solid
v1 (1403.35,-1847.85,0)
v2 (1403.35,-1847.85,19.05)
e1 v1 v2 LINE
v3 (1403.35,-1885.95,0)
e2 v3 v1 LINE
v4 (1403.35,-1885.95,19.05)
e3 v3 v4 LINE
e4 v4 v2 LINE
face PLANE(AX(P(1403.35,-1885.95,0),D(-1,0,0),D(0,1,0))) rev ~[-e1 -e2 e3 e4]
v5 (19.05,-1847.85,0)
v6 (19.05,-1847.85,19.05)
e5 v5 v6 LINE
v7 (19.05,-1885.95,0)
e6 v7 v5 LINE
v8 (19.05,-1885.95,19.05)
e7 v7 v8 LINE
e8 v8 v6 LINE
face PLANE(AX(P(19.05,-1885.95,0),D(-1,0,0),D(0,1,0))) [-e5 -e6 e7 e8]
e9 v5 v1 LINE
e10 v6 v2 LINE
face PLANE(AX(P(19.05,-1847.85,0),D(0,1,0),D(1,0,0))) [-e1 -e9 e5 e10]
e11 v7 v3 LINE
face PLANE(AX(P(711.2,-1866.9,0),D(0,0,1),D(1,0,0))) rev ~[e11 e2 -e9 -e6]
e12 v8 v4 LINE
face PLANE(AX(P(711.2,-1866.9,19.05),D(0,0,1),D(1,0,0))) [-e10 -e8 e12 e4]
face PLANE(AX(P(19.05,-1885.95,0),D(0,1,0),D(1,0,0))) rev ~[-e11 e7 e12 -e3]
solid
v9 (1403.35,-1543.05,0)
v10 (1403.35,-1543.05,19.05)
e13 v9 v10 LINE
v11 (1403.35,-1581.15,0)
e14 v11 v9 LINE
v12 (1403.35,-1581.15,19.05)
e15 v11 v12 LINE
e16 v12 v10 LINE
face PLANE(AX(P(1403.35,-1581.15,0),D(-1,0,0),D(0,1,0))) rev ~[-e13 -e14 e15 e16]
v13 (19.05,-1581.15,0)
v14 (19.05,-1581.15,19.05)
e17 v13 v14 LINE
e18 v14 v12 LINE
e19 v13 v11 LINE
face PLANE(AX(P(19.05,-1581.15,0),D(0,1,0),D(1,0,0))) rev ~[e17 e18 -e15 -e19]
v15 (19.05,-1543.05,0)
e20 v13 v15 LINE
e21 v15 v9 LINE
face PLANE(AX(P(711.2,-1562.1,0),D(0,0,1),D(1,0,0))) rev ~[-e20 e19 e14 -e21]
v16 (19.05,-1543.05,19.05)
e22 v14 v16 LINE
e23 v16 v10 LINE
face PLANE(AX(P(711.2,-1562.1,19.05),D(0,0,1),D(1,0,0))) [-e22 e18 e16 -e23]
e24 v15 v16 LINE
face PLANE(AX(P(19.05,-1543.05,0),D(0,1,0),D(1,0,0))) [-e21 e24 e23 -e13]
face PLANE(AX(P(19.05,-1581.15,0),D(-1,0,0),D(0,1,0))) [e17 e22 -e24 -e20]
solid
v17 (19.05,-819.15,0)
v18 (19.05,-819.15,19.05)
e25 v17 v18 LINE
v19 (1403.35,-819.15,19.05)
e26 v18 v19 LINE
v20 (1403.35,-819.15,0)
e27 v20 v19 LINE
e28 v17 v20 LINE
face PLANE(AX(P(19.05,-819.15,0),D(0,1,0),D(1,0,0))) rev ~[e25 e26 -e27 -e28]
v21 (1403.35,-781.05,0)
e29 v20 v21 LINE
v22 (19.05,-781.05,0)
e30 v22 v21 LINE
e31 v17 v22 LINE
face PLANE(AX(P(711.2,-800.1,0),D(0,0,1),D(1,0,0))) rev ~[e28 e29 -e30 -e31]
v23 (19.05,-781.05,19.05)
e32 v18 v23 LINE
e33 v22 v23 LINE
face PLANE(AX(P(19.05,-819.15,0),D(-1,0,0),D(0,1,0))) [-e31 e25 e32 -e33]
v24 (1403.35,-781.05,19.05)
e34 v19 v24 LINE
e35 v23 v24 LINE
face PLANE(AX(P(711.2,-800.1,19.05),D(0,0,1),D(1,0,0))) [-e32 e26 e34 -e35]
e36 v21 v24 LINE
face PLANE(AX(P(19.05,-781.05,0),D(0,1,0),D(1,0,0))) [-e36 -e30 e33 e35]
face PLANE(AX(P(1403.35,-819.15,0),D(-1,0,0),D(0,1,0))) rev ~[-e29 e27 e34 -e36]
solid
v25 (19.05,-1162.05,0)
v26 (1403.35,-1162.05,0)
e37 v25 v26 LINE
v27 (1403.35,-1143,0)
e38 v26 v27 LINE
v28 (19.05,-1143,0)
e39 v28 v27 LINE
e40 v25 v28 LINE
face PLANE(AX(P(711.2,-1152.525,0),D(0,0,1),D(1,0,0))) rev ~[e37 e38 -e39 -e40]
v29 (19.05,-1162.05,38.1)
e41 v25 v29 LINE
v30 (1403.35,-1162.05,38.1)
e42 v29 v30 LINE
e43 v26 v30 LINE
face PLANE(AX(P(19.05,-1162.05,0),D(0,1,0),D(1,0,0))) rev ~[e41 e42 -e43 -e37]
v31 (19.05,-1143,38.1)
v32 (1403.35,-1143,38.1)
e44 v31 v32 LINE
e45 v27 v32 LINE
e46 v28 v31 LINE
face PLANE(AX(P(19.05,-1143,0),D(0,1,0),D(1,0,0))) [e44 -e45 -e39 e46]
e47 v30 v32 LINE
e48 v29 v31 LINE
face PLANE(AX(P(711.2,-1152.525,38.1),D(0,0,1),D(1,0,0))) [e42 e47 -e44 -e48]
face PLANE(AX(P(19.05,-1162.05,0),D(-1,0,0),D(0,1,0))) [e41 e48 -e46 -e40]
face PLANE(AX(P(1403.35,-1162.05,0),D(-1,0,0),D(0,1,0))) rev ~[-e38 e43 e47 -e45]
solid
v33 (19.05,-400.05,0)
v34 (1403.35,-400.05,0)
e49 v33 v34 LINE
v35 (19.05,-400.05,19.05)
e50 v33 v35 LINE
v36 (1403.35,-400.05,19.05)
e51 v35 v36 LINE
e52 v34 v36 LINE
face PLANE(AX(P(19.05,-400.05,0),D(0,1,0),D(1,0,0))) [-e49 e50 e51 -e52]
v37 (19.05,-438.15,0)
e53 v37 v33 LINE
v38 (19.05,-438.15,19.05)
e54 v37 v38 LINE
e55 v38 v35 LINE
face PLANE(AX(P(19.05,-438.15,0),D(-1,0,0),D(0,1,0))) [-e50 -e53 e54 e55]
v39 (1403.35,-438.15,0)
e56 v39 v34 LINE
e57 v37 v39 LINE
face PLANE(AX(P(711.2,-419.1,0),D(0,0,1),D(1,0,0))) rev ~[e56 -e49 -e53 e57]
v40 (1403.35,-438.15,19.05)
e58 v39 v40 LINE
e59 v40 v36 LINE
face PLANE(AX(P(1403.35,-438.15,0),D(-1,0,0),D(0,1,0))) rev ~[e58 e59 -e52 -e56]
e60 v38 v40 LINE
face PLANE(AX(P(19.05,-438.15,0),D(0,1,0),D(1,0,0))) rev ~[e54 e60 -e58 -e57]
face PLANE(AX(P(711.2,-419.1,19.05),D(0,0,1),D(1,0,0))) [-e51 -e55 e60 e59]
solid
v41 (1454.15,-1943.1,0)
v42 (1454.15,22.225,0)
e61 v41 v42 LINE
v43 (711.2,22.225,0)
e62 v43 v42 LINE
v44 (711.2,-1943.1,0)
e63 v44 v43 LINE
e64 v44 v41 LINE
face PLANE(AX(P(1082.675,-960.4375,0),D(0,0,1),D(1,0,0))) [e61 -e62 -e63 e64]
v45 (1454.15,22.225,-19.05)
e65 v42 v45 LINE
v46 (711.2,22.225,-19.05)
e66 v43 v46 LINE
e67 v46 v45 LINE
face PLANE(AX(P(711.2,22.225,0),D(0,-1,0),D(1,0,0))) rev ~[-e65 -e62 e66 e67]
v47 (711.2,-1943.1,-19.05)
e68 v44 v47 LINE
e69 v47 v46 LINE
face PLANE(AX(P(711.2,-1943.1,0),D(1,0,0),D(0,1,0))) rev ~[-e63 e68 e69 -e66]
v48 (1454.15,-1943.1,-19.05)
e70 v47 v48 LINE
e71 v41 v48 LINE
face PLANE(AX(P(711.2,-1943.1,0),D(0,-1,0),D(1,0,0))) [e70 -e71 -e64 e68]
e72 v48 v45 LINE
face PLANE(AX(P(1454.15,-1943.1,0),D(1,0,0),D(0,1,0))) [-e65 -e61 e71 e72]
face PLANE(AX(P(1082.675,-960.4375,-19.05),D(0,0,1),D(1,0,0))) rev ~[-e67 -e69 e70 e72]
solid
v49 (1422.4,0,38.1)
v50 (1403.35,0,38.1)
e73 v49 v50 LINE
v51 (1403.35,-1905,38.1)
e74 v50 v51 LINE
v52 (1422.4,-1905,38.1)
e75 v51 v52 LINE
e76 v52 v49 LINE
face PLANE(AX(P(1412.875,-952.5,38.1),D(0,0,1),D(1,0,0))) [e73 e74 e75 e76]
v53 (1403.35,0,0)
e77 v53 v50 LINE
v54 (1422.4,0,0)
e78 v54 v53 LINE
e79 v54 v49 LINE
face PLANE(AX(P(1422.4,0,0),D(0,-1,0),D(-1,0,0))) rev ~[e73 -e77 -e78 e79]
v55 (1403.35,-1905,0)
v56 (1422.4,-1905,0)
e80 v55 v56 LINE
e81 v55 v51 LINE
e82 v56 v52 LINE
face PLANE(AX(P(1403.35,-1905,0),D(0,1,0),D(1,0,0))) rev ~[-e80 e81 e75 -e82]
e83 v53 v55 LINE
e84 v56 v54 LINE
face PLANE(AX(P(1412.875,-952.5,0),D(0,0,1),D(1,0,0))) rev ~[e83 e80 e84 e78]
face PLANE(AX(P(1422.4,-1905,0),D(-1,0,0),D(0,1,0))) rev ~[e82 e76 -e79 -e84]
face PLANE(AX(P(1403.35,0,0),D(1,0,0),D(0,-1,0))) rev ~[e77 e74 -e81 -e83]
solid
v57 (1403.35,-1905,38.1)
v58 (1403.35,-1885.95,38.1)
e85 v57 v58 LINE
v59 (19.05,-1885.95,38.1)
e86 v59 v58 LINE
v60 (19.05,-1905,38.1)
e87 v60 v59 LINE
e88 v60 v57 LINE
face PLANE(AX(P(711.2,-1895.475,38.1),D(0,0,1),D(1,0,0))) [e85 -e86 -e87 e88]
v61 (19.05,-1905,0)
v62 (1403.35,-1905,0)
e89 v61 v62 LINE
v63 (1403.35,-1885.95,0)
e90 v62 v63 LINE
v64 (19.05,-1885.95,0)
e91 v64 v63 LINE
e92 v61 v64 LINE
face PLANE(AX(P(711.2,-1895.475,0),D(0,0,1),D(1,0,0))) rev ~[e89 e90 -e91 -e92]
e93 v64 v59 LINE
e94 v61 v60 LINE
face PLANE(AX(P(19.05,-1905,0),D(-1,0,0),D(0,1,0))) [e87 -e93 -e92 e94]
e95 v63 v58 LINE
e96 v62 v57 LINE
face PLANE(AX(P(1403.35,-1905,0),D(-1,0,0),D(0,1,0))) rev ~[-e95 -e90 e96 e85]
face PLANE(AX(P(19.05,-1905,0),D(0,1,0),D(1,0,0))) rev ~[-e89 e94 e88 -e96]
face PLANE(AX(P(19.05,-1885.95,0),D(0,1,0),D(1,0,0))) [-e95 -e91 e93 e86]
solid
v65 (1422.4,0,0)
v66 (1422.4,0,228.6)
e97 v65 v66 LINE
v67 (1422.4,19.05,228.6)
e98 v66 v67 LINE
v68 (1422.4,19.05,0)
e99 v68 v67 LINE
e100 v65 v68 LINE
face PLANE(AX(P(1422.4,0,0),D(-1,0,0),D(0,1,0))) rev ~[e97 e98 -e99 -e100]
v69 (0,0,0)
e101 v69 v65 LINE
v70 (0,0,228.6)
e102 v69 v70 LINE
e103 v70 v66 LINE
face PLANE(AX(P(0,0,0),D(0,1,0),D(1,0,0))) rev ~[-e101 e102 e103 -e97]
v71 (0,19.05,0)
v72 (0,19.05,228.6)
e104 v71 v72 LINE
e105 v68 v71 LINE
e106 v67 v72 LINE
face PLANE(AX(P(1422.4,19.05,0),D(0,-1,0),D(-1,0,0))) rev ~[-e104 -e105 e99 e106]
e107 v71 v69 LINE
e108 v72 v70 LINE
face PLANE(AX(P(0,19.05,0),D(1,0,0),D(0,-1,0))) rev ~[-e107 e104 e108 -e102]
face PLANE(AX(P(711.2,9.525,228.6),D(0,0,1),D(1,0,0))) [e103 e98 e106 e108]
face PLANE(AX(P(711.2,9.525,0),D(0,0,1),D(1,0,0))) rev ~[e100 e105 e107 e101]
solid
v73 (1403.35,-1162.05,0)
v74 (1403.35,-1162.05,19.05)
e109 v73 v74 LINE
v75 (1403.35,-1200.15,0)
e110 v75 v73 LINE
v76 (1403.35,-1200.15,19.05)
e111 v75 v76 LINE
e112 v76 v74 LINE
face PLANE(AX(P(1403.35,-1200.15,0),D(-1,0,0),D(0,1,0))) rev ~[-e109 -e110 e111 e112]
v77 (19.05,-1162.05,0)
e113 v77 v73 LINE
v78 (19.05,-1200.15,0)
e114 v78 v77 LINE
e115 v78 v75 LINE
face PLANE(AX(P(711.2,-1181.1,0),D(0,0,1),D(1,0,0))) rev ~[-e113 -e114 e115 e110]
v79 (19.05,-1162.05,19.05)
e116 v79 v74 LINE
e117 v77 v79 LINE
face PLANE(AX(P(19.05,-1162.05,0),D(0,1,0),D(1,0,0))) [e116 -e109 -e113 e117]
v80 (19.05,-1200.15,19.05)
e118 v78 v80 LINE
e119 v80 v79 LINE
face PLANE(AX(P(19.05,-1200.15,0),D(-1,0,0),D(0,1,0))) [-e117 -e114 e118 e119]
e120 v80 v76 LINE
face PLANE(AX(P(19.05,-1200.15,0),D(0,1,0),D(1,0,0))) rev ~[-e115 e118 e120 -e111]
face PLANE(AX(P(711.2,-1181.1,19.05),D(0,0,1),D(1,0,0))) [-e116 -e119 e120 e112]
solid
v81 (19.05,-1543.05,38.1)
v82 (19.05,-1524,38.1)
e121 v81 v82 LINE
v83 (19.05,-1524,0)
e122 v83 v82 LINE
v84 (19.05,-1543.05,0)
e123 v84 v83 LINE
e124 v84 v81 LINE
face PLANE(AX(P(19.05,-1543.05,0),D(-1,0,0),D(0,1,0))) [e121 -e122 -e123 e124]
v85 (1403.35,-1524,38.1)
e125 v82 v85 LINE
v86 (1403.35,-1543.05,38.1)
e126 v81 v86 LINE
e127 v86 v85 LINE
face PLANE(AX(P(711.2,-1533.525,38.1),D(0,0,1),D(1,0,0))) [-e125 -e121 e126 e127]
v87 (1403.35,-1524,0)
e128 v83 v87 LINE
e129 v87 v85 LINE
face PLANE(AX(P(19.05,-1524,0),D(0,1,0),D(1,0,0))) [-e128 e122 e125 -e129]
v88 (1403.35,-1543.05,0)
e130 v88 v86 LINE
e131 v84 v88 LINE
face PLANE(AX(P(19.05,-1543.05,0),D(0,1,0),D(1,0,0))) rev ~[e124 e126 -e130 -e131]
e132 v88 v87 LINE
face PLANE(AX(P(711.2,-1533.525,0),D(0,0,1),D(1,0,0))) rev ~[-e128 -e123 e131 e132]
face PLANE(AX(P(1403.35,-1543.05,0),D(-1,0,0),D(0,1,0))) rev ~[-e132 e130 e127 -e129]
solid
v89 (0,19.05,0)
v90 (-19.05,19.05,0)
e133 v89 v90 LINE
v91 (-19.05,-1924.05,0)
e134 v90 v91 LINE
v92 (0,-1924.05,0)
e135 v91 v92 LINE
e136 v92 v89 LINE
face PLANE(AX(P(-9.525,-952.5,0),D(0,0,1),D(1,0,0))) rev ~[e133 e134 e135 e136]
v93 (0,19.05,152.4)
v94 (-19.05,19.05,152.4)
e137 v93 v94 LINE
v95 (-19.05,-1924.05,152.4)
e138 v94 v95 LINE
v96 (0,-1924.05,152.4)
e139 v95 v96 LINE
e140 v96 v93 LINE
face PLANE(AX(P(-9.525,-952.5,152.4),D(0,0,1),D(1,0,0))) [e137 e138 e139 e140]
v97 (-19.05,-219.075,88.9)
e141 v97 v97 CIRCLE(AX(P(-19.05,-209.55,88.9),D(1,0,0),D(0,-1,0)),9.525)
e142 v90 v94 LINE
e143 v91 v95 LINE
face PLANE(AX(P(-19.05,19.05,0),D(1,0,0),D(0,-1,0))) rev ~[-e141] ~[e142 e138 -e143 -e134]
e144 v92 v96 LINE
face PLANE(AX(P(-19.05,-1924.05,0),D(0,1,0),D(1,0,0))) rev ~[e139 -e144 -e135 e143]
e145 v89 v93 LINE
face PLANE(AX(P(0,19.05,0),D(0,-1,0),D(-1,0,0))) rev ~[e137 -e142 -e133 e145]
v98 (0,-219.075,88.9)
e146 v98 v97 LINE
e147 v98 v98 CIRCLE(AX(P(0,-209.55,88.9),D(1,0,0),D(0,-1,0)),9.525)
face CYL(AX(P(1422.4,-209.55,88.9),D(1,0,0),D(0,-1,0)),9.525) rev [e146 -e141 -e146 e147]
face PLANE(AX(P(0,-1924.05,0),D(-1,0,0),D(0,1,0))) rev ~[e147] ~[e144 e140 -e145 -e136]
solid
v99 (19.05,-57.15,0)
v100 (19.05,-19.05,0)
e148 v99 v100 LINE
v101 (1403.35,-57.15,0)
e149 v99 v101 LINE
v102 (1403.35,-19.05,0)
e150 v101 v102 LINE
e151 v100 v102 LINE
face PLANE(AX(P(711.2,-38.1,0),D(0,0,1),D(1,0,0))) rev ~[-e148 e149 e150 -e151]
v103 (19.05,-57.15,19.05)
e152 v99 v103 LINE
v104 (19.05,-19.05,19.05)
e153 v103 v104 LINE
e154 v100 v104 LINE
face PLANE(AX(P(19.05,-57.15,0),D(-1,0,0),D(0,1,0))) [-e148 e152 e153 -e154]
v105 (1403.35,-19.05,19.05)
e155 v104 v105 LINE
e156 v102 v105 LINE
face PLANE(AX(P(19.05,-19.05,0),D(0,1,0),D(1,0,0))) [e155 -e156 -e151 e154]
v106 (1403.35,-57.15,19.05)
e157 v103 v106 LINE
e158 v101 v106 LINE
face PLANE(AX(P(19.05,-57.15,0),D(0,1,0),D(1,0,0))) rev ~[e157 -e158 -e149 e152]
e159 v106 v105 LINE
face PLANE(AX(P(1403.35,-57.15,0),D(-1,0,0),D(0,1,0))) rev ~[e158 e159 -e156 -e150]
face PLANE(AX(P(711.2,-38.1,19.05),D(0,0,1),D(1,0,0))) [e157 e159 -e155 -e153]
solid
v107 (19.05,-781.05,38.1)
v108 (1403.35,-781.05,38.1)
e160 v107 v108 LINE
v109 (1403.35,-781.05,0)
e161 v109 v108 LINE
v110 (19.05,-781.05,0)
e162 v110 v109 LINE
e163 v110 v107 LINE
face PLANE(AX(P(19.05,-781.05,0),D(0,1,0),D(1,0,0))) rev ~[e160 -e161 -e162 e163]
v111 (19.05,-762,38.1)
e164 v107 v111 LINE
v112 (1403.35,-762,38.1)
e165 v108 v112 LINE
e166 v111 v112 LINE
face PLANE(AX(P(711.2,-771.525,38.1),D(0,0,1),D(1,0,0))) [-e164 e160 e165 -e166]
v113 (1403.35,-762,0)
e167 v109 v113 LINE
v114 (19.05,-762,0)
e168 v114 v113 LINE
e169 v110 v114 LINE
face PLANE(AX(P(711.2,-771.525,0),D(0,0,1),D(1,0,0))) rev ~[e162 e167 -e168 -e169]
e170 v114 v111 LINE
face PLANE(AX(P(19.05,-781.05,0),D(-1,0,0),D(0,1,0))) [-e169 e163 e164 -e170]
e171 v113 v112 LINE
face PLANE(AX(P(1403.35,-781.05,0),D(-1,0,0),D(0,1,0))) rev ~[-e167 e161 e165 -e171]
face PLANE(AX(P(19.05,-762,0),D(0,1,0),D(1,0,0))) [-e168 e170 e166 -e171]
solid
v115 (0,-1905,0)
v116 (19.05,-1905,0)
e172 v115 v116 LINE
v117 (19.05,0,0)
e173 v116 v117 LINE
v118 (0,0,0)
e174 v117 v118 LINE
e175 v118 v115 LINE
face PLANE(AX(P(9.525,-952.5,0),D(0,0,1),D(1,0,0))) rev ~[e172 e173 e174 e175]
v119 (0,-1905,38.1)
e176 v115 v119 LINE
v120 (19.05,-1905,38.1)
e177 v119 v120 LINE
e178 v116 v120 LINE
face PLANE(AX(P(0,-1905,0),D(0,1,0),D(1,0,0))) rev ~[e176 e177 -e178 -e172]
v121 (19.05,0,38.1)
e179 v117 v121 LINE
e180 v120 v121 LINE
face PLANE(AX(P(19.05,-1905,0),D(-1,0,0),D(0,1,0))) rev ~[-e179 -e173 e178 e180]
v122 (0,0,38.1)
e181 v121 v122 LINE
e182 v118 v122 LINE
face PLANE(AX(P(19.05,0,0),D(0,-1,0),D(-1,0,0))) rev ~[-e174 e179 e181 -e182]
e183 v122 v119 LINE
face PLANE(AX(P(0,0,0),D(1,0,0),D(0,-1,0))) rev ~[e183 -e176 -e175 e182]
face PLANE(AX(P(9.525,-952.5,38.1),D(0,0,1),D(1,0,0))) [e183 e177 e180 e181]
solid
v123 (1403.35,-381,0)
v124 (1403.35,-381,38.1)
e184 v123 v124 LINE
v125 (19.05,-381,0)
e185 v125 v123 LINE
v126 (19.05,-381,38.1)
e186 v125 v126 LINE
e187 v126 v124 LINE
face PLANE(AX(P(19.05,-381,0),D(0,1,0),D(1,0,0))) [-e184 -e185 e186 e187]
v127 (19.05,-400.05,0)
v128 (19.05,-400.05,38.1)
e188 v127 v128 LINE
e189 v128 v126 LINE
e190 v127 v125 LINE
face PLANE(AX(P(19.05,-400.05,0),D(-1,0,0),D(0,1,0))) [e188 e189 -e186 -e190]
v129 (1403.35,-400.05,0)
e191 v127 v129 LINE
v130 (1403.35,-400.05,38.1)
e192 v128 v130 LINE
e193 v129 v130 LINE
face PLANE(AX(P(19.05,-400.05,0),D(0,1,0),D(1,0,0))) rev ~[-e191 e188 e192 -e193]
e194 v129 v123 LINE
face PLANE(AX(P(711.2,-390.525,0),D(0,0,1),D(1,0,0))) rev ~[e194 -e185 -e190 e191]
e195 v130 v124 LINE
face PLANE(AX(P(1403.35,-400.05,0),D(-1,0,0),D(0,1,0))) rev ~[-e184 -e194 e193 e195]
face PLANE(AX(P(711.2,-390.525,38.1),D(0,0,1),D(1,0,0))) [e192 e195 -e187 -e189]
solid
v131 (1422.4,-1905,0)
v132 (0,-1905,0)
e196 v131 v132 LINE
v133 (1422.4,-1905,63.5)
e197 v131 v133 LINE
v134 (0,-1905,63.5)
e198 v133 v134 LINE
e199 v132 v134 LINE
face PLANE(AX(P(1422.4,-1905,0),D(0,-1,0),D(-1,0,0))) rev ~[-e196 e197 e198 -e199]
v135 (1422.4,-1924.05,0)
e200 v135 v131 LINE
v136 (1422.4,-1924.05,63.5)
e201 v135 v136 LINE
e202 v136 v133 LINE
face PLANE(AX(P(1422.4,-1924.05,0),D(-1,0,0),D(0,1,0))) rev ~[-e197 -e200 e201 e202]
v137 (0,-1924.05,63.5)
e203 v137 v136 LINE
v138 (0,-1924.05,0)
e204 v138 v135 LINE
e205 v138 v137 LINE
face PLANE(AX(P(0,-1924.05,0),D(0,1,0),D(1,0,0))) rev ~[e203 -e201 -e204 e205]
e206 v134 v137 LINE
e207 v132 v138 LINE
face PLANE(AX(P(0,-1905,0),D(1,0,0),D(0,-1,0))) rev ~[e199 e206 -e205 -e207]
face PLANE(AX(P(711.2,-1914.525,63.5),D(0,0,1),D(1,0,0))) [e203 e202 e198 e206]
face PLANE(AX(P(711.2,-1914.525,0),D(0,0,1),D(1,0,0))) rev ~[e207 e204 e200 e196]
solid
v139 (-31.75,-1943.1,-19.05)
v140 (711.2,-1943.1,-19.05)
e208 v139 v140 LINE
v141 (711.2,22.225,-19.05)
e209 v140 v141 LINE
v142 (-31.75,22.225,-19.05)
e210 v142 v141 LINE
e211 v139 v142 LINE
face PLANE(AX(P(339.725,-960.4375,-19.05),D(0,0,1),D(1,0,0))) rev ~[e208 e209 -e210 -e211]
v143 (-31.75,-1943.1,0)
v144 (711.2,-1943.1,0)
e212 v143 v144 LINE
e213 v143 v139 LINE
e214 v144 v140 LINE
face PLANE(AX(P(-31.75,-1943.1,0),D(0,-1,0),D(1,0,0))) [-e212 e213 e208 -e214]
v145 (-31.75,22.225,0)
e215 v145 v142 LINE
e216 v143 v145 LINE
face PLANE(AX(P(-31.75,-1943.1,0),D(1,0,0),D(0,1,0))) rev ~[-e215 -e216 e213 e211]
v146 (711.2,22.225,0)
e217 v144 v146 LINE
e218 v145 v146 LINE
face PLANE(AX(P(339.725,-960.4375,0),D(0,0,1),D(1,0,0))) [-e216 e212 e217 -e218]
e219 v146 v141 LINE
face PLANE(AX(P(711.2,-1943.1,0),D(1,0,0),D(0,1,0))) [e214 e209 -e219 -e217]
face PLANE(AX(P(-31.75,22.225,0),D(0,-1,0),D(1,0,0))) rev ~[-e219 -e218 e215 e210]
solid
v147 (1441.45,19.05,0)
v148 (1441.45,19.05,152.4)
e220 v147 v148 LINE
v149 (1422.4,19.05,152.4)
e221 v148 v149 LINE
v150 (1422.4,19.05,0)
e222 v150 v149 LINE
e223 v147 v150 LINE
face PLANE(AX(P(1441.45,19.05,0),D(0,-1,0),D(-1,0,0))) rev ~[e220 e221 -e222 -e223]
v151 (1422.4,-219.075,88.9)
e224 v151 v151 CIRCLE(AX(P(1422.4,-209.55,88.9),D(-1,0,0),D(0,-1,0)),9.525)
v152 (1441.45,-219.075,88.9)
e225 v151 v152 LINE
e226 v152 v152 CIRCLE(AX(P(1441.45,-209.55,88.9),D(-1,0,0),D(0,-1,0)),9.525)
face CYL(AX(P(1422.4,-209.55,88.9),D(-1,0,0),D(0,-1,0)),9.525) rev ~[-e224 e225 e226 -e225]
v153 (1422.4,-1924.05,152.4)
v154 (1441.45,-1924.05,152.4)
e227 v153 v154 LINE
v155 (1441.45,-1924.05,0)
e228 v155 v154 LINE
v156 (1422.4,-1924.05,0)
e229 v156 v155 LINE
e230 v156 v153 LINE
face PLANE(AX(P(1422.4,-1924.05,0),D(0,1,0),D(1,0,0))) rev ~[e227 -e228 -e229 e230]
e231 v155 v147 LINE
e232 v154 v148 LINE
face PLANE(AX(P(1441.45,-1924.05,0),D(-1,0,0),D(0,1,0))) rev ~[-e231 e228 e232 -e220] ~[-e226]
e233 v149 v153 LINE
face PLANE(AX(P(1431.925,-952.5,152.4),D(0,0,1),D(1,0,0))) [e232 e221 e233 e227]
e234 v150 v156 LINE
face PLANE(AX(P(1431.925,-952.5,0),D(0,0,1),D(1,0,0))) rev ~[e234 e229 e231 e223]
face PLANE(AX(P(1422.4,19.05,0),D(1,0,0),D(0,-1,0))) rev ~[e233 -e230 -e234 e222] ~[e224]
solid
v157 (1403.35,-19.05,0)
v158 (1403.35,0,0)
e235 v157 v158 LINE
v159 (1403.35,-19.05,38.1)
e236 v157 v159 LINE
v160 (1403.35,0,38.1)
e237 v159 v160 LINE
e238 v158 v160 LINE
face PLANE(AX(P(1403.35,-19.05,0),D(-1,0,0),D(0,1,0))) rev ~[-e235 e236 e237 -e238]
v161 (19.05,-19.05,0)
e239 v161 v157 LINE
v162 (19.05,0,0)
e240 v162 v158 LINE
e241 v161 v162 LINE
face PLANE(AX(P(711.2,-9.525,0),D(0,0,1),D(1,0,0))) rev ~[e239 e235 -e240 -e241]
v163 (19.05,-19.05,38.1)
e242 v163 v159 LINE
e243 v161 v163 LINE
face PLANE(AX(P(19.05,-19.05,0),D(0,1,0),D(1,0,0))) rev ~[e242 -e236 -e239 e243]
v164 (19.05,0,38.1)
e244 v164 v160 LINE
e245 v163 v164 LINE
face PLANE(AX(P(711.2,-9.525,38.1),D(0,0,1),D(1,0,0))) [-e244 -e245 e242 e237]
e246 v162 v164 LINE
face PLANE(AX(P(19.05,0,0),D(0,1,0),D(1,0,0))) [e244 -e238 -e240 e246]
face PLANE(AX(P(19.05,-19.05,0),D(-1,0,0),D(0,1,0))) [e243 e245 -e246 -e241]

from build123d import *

# Parameters (mm, degrees)
F0_W           = 1384.3
F0_H           = 19.05
F1_DEPTH       = 38.1
F2_DEPTH       = 38.1
F0_H_2         = 38.1
F3_DEPTH       = 19.05
F4_DEPTH       = 228.6
F5_DEPTH       = 63.5
F6_DEPTH       = 152.4
F7_W           = 742.95
F7_H           = 1965.325
F8_DEPTH       = 19.05
F9_DEPTH       = 19.05
F10_R          = 9.525
F11_DEPTH      = 31.751
F11_DEPTH_BACK = 1454.151


with BuildPart() as f1:
    # F0 (on Top) → F1 (new body)
    with BuildSketch(Plane.XY):
        with Locations((711.2, -9.525)):
            Rectangle(F0_W, F0_H)
    extrude(amount=F1_DEPTH)


with BuildPart() as f1b:
    # F0 (on Top) → F1, piece 2 (new body)
    with BuildSketch(Plane.XY):
        with Locations((711.2, -390.525)):
            Rectangle(F0_W, F0_H)
    extrude(amount=F1_DEPTH)


with BuildPart() as f1c:
    # F0 (on Top) → F1, piece 3 (new body)
    with BuildSketch(Plane.XY):
        with Locations((711.2, -771.525)):
            Rectangle(F0_W, F0_H)
    extrude(amount=F1_DEPTH)


with BuildPart() as f1d:
    # F0 (on Top) → F1, piece 4 (new body)
    with BuildSketch(Plane.XY):
        with Locations((711.2, -1152.525)):
            Rectangle(F0_W, F0_H)
    extrude(amount=F1_DEPTH)


with BuildPart() as f1e:
    # F0 (on Top) → F1, piece 5 (new body)
    with BuildSketch(Plane.XY):
        with Locations((711.2, -1533.525)):
            Rectangle(F0_W, F0_H)
    extrude(amount=F1_DEPTH)


with BuildPart() as f1f:
    # F0 (on Top) → F1, piece 6 (new body)
    with BuildSketch(Plane.XY):
        with Locations((711.2, -1895.475)):
            Rectangle(F0_W, F0_H)
    extrude(amount=F1_DEPTH)


with BuildPart() as f2:
    # F0 (on Top) → F2 (new body)
    with BuildSketch(Plane.XY):
        Polygon((19.05, -19.05), (19.05, 0), (0, 0), (0, -1905), (19.05, -1905), (19.05, -1885.95), (19.05, -1847.85), (19.05, -1581.15), (19.05, -1543.05), (19.05, -1524), (19.05, -1200.15), (19.05, -1162.05), (19.05, -1143), (19.05, -819.15), (19.05, -781.05), (19.05, -762), (19.05, -438.15), (19.05, -400.05), (19.05, -381), (19.05, -57.15), align=None)
    extrude(amount=F2_DEPTH)


with BuildPart() as f2b:
    # F0 (on Top) → F2, piece 2 (new body)
    with BuildSketch(Plane.XY):
        Polygon((1422.4, 0), (1403.35, 0), (1403.35, -19.05), (1403.35, -57.15), (1403.35, -381), (1403.35, -400.05), (1403.35, -438.15), (1403.35, -762), (1403.35, -781.05), (1403.35, -819.15), (1403.35, -1143), (1403.35, -1162.05), (1403.35, -1200.15), (1403.35, -1524), (1403.35, -1543.05), (1403.35, -1581.15), (1403.35, -1847.85), (1403.35, -1885.95), (1403.35, -1905), (1422.4, -1905), align=None)
    extrude(amount=F2_DEPTH)


with BuildPart() as f3:
    # F0 (on Top) → F3 (new body)
    with BuildSketch(Plane.XY):
        with Locations((711.2, -38.1)):
            Rectangle(F0_W, F0_H_2)
    extrude(amount=F3_DEPTH)


with BuildPart() as f3b:
    # F0 (on Top) → F3, piece 2 (new body)
    with BuildSketch(Plane.XY):
        with Locations((711.2, -419.1)):
            Rectangle(F0_W, F0_H_2)
    extrude(amount=F3_DEPTH)


with BuildPart() as f3c:
    # F0 (on Top) → F3, piece 3 (new body)
    with BuildSketch(Plane.XY):
        with Locations((711.2, -800.1)):
            Rectangle(F0_W, F0_H_2)
    extrude(amount=F3_DEPTH)


with BuildPart() as f3d:
    # F0 (on Top) → F3, piece 4 (new body)
    with BuildSketch(Plane.XY):
        with Locations((711.2, -1181.1)):
            Rectangle(F0_W, F0_H_2)
    extrude(amount=F3_DEPTH)


with BuildPart() as f3e:
    # F0 (on Top) → F3, piece 5 (new body)
    with BuildSketch(Plane.XY):
        with Locations((711.2, -1562.1)):
            Rectangle(F0_W, F0_H_2)
    extrude(amount=F3_DEPTH)


with BuildPart() as f3f:
    # F0 (on Top) → F3, piece 6 (new body)
    with BuildSketch(Plane.XY):
        with Locations((711.2, -1866.9)):
            Rectangle(F0_W, F0_H_2)
    extrude(amount=F3_DEPTH)


with BuildPart() as f4:
    # F0 (on Top) → F4 (new body)
    with BuildSketch(Plane.XY):
        Polygon((0, 0), (19.05, 0), (1403.35, 0), (1422.4, 0), (1422.4, 19.05), (0, 19.05), align=None)
    extrude(amount=F4_DEPTH)


with BuildPart() as f5:
    # F0 (on Top) → F5 (new body)
    with BuildSketch(Plane.XY):
        Polygon((19.05, -1905), (0, -1905), (0, -1924.05), (1422.4, -1924.05), (1422.4, -1905), (1403.35, -1905), align=None)
    extrude(amount=F5_DEPTH)


with BuildPart() as f6:
    # F0 (on Top) → F6 (new body)
    with BuildSketch(Plane.XY):
        Polygon((1422.4, 19.05), (1422.4, 0), (1422.4, -1905), (1422.4, -1924.05), (1441.45, -1924.05), (1441.45, 19.05), align=None)
    extrude(amount=F6_DEPTH)


with BuildPart() as f6b:
    # F0 (on Top) → F6, piece 2 (new body)
    with BuildSketch(Plane.XY):
        Polygon((0, -1905), (0, 0), (0, 19.05), (-19.05, 19.05), (-19.05, -1924.05), (0, -1924.05), align=None)
    extrude(amount=F6_DEPTH)


with BuildPart() as f8:
    # F7 (on Top) → F8 (new body)
    with BuildSketch(Plane.XY):
        with Locations((339.725, -960.4375)):
            Rectangle(F7_W, F7_H)
    extrude(amount=-F8_DEPTH)


with BuildPart() as f9:
    # F7 (on Top) → F9 (new body)
    with BuildSketch(Plane.XY):
        with Locations((1082.675, -960.4375)):
            Rectangle(F7_W, F7_H)
    extrude(amount=-F9_DEPTH)


with BuildPart() as f11_tool:
    # F10 (on face) → F11 (new body, two sides)
    with BuildSketch(Plane(origin=(1422.4, 0, 0), x_dir=(0, -1, 0), z_dir=(-1, 0, 0))) as f11_sk:
        with Locations((209.55, 88.9)):
            Circle(F10_R)
    extrude(amount=-F11_DEPTH)
    extrude(f11_sk.sketch, amount=F11_DEPTH_BACK)


with BuildPart() as f6_1:
    add(f6.part)

    # F11: cut by f11_tool
    add(f11_tool.part, mode=Mode.SUBTRACT)


with BuildPart() as f6b_1:
    add(f6b.part)

    # F11: cut by f11_tool
    add(f11_tool.part, mode=Mode.SUBTRACT)


solid = Compound([f1.part, f1b.part, f1c.part, f1d.part, f1e.part, f1f.part, f2.part, f2b.part, f3.part, f3b.part, f3c.part, f3d.part, f3e.part, f3f.part, f4.part, f5.part, f8.part, f9.part, f6_1.part, f6b_1.part])
